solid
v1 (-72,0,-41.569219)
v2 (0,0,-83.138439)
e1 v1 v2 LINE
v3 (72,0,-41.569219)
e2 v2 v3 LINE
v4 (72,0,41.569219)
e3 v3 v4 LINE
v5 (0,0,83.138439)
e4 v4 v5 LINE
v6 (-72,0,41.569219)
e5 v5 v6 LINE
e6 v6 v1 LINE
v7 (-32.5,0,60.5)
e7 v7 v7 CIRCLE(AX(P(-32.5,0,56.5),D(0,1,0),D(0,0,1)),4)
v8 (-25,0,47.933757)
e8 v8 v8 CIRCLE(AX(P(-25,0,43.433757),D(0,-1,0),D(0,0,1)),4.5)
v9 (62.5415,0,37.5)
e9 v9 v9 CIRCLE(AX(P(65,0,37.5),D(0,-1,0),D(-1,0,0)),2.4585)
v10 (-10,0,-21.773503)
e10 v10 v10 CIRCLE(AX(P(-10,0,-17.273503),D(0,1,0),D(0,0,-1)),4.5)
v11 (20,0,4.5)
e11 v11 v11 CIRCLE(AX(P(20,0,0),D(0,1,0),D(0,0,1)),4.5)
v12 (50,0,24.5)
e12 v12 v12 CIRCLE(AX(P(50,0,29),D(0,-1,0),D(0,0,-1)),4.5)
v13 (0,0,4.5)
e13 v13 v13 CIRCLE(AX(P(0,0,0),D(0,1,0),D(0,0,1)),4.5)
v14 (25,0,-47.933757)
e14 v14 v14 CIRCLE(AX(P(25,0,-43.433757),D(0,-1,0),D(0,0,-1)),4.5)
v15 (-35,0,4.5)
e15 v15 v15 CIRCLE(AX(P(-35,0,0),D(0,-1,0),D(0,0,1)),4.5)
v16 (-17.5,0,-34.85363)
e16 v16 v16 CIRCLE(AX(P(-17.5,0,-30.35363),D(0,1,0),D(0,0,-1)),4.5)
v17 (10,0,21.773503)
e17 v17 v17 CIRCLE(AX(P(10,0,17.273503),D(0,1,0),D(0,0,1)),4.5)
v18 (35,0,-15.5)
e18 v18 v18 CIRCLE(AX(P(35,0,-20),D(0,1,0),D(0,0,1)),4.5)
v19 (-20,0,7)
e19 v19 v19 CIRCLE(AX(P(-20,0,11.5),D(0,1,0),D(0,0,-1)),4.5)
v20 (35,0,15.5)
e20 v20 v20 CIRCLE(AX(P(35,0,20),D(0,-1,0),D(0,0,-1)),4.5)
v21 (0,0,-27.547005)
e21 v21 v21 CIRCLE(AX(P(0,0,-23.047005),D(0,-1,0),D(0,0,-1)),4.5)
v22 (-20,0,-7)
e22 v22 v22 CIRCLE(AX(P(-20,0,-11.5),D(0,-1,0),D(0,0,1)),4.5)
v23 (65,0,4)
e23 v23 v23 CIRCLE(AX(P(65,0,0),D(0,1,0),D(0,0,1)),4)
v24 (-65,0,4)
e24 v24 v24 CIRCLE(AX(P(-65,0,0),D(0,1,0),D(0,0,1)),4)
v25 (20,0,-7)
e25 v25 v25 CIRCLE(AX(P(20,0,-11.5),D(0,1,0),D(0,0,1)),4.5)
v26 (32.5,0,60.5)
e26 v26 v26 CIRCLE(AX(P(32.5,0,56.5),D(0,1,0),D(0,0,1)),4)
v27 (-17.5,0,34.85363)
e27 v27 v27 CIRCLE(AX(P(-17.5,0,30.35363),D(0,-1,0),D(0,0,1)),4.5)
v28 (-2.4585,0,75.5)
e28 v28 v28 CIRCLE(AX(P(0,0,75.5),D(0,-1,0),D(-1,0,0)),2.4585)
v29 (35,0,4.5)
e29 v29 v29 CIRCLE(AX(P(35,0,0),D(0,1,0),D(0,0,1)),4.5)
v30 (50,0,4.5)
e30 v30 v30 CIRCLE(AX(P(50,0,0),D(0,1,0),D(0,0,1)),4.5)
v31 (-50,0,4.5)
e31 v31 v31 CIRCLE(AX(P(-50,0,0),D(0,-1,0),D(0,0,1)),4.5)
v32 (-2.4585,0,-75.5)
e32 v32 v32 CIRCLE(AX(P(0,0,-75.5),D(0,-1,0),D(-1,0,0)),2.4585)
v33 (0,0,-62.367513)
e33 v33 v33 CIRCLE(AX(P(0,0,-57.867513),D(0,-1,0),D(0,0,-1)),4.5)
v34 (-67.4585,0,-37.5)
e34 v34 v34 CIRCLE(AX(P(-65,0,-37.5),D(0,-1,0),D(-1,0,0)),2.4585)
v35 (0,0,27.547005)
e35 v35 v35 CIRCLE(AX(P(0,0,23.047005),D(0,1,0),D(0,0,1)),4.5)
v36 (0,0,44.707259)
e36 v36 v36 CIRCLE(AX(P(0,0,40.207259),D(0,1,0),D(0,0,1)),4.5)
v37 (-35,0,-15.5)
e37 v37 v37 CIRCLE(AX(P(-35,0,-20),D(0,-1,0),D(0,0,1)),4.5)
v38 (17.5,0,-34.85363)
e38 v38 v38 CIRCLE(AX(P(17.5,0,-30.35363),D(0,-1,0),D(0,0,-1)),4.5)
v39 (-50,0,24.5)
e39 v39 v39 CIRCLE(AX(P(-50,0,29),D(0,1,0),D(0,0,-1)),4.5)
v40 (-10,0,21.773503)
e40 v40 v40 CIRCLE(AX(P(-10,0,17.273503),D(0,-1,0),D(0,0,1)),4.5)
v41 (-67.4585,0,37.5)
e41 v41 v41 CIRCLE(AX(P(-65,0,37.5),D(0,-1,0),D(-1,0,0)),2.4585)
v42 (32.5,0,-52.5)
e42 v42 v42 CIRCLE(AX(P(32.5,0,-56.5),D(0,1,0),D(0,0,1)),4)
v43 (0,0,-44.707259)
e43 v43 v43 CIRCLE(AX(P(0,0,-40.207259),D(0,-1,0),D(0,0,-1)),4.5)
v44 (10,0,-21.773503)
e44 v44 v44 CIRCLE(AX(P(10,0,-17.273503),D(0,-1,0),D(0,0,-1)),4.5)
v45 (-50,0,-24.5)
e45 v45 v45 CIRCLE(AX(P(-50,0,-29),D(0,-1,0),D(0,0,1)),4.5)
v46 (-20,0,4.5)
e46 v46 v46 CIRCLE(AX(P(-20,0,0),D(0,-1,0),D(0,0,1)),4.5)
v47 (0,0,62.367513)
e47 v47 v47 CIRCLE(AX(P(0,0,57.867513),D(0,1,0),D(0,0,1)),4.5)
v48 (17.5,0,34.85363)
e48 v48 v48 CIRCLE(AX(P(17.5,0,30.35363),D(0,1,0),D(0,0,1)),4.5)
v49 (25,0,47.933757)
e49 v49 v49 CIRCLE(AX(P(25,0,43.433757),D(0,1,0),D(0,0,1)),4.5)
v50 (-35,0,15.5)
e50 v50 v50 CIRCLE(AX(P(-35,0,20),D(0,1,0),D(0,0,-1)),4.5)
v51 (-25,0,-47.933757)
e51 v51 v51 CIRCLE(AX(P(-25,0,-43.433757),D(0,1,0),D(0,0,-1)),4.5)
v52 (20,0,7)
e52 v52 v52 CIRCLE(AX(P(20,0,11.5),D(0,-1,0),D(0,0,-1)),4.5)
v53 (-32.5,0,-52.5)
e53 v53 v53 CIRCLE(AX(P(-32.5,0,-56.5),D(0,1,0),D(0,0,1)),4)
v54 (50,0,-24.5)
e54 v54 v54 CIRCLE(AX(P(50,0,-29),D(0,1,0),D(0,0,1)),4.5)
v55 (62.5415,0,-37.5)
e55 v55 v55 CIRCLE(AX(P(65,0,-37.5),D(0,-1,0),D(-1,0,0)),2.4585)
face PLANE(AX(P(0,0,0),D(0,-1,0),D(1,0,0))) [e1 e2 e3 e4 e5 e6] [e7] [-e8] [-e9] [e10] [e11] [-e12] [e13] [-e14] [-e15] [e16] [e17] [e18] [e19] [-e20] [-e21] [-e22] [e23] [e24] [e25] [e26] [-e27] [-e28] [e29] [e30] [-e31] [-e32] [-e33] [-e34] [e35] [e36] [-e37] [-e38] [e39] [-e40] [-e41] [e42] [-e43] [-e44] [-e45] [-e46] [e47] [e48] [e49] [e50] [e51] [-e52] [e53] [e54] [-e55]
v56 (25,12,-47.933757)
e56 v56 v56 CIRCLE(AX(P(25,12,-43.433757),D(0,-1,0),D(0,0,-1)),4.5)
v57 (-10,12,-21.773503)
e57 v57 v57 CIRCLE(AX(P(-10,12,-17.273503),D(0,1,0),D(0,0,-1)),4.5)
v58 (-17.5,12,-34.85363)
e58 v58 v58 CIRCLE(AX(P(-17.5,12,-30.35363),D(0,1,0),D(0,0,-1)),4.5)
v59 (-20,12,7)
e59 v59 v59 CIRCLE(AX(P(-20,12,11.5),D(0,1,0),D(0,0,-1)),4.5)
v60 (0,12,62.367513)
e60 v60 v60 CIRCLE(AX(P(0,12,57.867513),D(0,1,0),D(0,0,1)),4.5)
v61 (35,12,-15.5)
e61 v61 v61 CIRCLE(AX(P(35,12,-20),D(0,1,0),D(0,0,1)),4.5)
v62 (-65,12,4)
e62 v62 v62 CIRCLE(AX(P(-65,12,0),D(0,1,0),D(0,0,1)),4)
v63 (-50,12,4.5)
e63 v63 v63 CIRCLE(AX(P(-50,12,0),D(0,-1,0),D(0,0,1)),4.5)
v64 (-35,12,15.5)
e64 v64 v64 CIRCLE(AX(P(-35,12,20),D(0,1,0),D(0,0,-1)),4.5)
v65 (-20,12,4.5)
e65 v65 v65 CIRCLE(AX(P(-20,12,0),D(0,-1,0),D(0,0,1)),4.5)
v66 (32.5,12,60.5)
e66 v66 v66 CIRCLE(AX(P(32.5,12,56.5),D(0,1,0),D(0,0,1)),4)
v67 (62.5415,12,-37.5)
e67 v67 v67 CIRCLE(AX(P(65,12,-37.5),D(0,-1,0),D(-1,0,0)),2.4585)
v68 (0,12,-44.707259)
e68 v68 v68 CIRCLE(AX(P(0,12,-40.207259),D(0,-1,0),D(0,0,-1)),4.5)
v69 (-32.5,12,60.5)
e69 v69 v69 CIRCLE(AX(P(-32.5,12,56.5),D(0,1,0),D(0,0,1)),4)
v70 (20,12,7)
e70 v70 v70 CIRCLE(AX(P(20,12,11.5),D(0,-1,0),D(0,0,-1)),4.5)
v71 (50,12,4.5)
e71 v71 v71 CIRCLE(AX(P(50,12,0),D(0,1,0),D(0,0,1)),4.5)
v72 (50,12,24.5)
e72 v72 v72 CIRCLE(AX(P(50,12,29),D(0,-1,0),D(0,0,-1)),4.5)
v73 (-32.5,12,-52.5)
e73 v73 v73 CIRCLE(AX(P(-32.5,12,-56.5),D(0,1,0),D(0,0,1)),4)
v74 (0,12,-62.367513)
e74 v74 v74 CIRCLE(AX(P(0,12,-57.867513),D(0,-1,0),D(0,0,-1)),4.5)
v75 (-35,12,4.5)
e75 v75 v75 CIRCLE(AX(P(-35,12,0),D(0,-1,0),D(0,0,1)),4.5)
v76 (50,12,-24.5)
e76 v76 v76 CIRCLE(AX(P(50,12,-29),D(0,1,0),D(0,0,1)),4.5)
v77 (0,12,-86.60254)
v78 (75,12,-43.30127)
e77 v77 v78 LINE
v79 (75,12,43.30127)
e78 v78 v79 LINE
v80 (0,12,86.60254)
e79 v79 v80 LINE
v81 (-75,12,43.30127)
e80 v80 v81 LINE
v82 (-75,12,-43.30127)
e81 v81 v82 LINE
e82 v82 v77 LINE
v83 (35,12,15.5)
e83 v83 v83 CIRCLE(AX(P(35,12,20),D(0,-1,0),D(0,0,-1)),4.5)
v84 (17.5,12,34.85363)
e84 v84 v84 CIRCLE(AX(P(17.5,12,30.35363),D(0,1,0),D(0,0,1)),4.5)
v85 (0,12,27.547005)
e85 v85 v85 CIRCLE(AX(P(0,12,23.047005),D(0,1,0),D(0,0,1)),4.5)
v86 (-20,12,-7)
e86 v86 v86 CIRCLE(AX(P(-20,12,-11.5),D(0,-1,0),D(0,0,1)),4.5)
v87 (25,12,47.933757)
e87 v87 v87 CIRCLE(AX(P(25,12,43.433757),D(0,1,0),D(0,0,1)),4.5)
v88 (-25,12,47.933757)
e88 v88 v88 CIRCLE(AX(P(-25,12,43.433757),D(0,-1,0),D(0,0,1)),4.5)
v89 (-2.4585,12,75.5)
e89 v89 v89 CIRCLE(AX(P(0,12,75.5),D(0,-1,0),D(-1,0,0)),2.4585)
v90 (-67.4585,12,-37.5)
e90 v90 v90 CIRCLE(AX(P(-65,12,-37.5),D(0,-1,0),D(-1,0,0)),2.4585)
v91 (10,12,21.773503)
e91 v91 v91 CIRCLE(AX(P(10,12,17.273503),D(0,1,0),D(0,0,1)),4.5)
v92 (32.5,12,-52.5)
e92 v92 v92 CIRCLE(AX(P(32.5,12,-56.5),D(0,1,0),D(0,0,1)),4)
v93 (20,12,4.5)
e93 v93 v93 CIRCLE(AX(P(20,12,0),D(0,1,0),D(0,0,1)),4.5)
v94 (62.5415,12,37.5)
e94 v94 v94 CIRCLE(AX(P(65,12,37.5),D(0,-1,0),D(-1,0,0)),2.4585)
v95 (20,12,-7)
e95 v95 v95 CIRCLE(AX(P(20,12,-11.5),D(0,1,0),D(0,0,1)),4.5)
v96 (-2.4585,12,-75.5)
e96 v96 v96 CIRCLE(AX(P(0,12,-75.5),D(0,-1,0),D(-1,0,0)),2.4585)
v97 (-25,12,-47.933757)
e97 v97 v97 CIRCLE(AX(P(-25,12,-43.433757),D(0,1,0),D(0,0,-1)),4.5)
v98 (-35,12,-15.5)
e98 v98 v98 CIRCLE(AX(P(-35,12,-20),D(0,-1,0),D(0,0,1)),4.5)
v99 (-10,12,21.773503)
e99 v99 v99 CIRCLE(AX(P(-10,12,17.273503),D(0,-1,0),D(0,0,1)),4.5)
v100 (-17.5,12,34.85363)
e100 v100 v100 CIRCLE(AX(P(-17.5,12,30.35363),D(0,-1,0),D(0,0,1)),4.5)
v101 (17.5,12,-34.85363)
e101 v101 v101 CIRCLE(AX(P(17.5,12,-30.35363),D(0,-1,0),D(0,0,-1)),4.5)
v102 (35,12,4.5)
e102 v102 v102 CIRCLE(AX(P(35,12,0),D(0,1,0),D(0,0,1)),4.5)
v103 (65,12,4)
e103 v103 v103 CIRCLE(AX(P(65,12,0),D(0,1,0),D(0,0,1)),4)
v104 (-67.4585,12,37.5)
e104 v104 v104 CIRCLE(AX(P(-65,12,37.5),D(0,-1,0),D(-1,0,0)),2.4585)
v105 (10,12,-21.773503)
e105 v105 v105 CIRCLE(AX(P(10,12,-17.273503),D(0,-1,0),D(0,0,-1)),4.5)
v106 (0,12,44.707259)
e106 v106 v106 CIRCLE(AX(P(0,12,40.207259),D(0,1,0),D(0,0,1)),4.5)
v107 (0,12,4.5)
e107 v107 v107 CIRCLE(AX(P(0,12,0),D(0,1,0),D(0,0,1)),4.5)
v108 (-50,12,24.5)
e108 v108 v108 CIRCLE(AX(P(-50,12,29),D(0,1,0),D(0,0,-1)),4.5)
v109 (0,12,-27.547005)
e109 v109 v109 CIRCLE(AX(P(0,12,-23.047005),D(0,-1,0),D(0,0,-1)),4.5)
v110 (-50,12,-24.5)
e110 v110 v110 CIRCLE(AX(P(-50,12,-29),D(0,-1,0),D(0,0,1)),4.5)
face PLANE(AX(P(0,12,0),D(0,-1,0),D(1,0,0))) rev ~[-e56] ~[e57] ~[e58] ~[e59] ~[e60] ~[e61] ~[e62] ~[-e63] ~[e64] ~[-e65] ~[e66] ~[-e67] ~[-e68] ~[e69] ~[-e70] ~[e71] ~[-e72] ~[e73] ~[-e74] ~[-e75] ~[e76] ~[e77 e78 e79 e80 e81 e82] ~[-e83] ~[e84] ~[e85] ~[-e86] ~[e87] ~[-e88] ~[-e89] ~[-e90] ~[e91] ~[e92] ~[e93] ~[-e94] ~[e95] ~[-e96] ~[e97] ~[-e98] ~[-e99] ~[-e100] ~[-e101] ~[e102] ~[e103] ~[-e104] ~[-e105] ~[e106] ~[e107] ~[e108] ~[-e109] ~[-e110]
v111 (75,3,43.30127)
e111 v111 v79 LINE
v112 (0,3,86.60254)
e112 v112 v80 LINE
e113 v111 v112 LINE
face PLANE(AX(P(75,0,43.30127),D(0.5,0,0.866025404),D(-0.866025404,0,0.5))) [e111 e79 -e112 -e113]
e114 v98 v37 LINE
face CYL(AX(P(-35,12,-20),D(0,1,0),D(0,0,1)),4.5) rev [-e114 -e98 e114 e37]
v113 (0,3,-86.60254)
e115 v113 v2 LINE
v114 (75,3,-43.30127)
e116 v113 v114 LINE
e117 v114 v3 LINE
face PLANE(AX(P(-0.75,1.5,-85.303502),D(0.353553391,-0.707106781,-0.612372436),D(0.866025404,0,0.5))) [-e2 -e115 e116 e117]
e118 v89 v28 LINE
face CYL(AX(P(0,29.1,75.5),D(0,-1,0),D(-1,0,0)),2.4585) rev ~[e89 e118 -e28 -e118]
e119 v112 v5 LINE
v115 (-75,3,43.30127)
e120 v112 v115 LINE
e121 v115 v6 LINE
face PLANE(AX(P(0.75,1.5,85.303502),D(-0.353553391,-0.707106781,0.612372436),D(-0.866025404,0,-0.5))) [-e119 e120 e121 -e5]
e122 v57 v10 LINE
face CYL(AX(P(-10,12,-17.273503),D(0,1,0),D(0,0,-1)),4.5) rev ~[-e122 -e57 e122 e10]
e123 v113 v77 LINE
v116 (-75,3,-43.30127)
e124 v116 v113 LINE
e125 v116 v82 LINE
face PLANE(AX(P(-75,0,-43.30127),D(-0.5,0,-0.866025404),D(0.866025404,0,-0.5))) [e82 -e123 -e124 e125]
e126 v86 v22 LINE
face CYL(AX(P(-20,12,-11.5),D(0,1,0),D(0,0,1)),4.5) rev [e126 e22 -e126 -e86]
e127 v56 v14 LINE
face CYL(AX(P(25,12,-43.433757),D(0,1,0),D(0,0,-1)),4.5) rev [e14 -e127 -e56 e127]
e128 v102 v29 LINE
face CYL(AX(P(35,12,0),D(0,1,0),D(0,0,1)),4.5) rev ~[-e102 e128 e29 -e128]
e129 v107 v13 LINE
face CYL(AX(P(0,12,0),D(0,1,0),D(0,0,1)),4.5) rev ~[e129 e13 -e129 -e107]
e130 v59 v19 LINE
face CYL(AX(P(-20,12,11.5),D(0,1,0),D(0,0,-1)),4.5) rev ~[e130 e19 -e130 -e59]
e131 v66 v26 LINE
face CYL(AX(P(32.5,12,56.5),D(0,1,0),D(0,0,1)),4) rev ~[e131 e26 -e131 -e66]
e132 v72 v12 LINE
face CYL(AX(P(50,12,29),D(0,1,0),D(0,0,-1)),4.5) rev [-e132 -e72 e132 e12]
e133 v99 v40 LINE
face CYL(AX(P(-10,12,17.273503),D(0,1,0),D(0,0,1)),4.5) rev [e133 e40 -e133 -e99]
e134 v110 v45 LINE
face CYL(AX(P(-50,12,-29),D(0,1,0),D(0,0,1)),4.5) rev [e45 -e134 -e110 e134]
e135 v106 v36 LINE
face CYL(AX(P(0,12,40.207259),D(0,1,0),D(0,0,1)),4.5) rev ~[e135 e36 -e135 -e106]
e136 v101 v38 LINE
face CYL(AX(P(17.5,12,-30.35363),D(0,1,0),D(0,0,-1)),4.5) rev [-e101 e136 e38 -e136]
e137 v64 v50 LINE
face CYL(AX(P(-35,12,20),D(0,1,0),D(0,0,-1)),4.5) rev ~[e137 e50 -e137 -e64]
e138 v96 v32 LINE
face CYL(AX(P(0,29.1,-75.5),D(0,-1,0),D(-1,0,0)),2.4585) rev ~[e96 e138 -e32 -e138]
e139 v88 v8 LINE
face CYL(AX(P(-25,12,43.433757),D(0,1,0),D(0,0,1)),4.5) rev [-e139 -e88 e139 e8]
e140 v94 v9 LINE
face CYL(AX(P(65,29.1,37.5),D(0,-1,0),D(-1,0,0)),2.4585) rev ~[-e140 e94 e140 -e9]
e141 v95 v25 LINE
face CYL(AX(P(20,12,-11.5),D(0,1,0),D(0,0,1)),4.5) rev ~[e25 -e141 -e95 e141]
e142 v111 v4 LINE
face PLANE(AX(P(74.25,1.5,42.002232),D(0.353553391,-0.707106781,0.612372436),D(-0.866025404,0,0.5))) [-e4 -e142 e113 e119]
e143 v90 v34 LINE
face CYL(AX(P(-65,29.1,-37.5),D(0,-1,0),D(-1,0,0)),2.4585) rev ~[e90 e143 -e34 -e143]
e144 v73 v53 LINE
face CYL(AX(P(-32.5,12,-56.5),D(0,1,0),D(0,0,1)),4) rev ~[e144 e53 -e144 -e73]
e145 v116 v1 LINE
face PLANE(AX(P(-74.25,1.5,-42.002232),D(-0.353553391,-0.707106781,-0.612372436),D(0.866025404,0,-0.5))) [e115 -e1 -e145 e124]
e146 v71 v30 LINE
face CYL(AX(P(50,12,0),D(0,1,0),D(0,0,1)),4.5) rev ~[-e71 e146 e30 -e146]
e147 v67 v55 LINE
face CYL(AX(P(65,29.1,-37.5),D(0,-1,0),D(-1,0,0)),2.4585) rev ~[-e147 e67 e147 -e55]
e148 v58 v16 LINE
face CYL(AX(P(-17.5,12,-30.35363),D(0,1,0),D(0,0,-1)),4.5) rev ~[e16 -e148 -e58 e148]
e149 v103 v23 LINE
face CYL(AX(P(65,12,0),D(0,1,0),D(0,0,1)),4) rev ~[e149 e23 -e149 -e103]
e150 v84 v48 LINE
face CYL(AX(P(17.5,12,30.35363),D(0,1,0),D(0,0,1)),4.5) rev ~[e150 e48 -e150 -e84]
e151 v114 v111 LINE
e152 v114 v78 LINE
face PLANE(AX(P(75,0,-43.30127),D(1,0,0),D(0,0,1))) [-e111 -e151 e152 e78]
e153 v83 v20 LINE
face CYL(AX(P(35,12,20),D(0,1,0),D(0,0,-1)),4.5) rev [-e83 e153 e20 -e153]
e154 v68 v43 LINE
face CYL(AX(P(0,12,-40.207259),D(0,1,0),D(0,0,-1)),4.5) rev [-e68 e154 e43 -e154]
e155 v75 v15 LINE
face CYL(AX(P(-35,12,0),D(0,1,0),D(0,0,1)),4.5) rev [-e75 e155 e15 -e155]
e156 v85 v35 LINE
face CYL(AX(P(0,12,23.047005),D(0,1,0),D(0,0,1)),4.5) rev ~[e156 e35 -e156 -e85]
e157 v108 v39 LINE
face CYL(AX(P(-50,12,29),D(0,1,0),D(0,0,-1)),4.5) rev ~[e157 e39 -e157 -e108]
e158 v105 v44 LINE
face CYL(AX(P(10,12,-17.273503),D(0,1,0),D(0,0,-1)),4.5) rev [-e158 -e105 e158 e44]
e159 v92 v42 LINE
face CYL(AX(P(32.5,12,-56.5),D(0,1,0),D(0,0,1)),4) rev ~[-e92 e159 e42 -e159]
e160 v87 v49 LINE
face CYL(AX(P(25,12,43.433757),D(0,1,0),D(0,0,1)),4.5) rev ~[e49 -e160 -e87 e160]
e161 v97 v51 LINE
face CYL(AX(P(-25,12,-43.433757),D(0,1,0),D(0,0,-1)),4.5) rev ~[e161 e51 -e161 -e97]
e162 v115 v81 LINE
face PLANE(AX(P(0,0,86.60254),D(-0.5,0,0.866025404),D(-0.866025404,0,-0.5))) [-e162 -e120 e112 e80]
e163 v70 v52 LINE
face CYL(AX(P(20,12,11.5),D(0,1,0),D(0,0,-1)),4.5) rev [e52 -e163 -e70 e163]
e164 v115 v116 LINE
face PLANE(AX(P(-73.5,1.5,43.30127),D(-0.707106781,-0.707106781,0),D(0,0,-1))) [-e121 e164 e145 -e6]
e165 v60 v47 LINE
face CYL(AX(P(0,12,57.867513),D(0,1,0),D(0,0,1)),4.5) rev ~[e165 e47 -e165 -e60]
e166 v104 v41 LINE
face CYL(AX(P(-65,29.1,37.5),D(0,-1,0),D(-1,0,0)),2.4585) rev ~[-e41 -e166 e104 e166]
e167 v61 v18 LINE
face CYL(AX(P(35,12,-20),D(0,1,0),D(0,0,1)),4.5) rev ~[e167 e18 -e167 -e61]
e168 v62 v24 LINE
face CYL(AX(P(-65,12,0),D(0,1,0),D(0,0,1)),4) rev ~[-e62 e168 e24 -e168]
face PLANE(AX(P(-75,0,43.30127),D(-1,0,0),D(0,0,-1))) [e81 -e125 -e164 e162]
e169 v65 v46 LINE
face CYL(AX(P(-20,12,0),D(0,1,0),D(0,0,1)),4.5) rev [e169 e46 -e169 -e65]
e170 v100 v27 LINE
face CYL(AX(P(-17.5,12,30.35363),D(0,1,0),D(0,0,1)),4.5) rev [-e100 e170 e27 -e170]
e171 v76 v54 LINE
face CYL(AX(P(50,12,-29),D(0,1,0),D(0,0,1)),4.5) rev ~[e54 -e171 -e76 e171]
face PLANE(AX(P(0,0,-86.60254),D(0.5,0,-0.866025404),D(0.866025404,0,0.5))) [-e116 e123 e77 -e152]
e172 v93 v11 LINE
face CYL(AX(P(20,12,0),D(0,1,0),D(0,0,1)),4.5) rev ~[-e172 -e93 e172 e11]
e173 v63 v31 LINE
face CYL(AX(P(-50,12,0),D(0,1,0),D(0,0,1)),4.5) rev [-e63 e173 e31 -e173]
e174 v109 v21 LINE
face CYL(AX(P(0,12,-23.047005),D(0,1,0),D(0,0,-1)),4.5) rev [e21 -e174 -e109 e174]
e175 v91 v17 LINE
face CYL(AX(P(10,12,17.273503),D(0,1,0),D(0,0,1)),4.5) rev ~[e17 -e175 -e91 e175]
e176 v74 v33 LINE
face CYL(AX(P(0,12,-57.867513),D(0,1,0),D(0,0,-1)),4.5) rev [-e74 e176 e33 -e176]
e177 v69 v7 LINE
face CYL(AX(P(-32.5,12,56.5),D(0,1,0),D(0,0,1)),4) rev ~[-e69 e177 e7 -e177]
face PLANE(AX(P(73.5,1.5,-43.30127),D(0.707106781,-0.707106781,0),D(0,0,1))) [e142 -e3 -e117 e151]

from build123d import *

# Parameters (mm, degrees)
EXTRUDE_1_DEPTH          = 12
CHAMFER_1_SIZE           = 3
SKETCH_2_R               = 4
EXTRUDE_2_DEPTH          = 12
HOLE_WIZARD_1_D          = 4.917
HOLE_WIZARD_1_DEPTH      = 17.1
HOLE_WIZARD_1_TIP        = 1.477215832
SKETCH_5_R               = 4.5
EXTRUDE_4_DEPTH          = 12
SKETCH_6_R               = 4.5
EXTRUDE_3_DEPTH          = 12
SKETCH_7_R               = 4.5
EXTRUDE_5_DEPTH          = 12
MIRROR_2_COPY_1_SKETCH_R = 4.5
MIRROR_2_COPY_1_DEPTH    = 12
SKETCH_8_R               = 4.5
EXTRUDE_8_DEPTH          = 12
SKETCH_9_R               = 4.5
EXTRUDE_9_DEPTH          = 12
MIRROR_8_COPY_1_SKETCH_R = 4.5
MIRROR_8_COPY_1_DEPTH    = 12


with BuildPart() as part:
    # 草圖1 → 擠出1 (new body)
    with BuildSketch(Plane(origin=(0, 0, 0), x_dir=(-1, 0, 0), z_dir=(0, 1, 0))):
        Polygon((0, -86.602540378), (-75, -43.301270189), (-75, 43.301270189), (0, 86.602540378), (75, 43.301270189), (75, -43.301270189), align=None)
    extrude(amount=EXTRUDE_1_DEPTH)

    # 倒角1
    chamfer_1_edges = [part.edges().sort_by_distance(p)[0] for p in [
        (37.5, 0, -64.951905284),
        (75, 0, 0),
        (37.5, 0, 64.951905284),
        (-37.5, 0, 64.951905284),
        (-75, 0, 0),
        (-37.5, 0, -64.951905284),
    ]]
    chamfer(chamfer_1_edges, length=CHAMFER_1_SIZE)

    # 草圖2 → 擠出2 (cut)
    with BuildSketch(Plane(origin=(0, 12, 0), x_dir=(-1, 0, 0), z_dir=(0, 1, 0))):
        with Locations(Location((-32.5, 56.5, 0), (0, 0, 90))):
            Circle(SKETCH_2_R)
        with Locations(Location((32.5, 56.5, 0), (0, 0, 90))):
            Circle(SKETCH_2_R)
        with Locations(Location((-65, 0, 0), (0, 0, 90))):
            Circle(SKETCH_2_R)
        with Locations(Location((-32.5, -56.5, 0), (0, 0, 90))):
            Circle(SKETCH_2_R)
        with Locations(Location((32.5, -56.5, 0), (0, 0, 90))):
            Circle(SKETCH_2_R)
        with Locations(Location((65, 0, 0), (0, 0, 90))):
            Circle(SKETCH_2_R)
    extrude(amount=-EXTRUDE_2_DEPTH, mode=Mode.SUBTRACT)

    # 孔1
    with Locations(Plane(origin=(0, 12, 0), x_dir=(1, 0, 0), z_dir=(0, 1, 0))):
        with Locations((0, 75.5), (-65, 37.5), (65, 37.5), (-65, -37.5), (65, -37.5), (0, -75.5)):
            Hole(HOLE_WIZARD_1_D / 2, depth=HOLE_WIZARD_1_DEPTH)
            with Locations((0, 0, -(HOLE_WIZARD_1_DEPTH + HOLE_WIZARD_1_TIP / 2))):  # 118° drill point
                Cone(0, HOLE_WIZARD_1_D / 2, HOLE_WIZARD_1_TIP, mode=Mode.SUBTRACT)

    # 草圖5 → 擠出4 (cut)
    with BuildSketch(Plane(origin=(0, 12, 0), x_dir=(-1, 0, 0), z_dir=(0, 1, 0))):
        with Locations(Location((0, 0, 0), (0, 0, 90))):
            Circle(SKETCH_5_R)
    extrude(amount=-EXTRUDE_4_DEPTH, mode=Mode.SUBTRACT)

    # 草圖6 → 擠出3 (cut)
    with BuildSketch(Plane(origin=(0, 12, 0), x_dir=(1, 0, 0), z_dir=(0, 1, 0))):
        with Locations(Location((20, 0, 0), (0, 0, 270))):
            Circle(SKETCH_6_R)
        with Locations(Location((35, 0, 0), (0, 0, 270))):
            Circle(SKETCH_6_R)
        with Locations(Location((50, 0, 0), (0, 0, 270))):
            Circle(SKETCH_6_R)
    extrude_3 = extrude(amount=-EXTRUDE_3_DEPTH, mode=Mode.SUBTRACT)

    # 鏡射5: 擠出3 across plane
    add(extrude_3.mirror(Plane(origin=(0, 0, 0), x_dir=(0, 0, 1), z_dir=(1, 0, 0))), mode=Mode.SUBTRACT)

    # 草圖7 → 擠出5 (cut)
    with BuildSketch(Plane(origin=(0, 12, 0), x_dir=(1, 0, 0), z_dir=(0, 1, 0))):
        with Locations(Location((20, 11.5, 0), (0, 0, 270))):
            Circle(SKETCH_7_R)
        with Locations(Location((35, 20, 0), (0, 0, 270))):
            Circle(SKETCH_7_R)
        with Locations(Location((50, 29, 0), (0, 0, 270))):
            Circle(SKETCH_7_R)
    extrude_5 = extrude(amount=-EXTRUDE_5_DEPTH, mode=Mode.SUBTRACT)

    # 鏡射1: 擠出5 across plane
    add(extrude_5.mirror(Plane.XY), mode=Mode.SUBTRACT)

    # 鏡射2: 擠出5 across plane
    add(extrude_5.mirror(Plane(origin=(0, 0, 0), x_dir=(0, 0, 1), z_dir=(1, 0, 0))), mode=Mode.SUBTRACT)

    # 鏡射2 copy 1 sketch → 鏡射2 copy 1 (cut)
    with BuildSketch(Plane(origin=(0, 12, 0), x_dir=(-1, 0, 0), z_dir=(0, 1, 0))):
        with Locations(Location((20, 11.5, 0), (0, 0, 270))):
            Circle(MIRROR_2_COPY_1_SKETCH_R)
        with Locations(Location((35, 20, 0), (0, 0, 270))):
            Circle(MIRROR_2_COPY_1_SKETCH_R)
        with Locations(Location((50, 29, 0), (0, 0, 270))):
            Circle(MIRROR_2_COPY_1_SKETCH_R)
    extrude(amount=-MIRROR_2_COPY_1_DEPTH, mode=Mode.SUBTRACT)

    # 草圖8 → 擠出8 (cut)
    with BuildSketch(Plane(origin=(0, 12, 0), x_dir=(1, 0, 0), z_dir=(0, 1, 0))):
        with Locations(Location((0, -23.047005384, 0), (0, 0, 270))):
            Circle(SKETCH_8_R)
        with Locations(Location((0, -40.207259422, 0), (0, 0, 270))):
            Circle(SKETCH_8_R)
        with Locations(Location((0, -57.867513459, 0), (0, 0, 270))):
            Circle(SKETCH_8_R)
    extrude_8 = extrude(amount=-EXTRUDE_8_DEPTH, mode=Mode.SUBTRACT)

    # 鏡射6: 擠出8 across plane
    add(extrude_8.mirror(Plane.XY), mode=Mode.SUBTRACT)

    # 草圖9 → 擠出9 (cut)
    with BuildSketch(Plane(origin=(0, 12, 0), x_dir=(1, 0, 0), z_dir=(0, 1, 0))):
        with Locations(Location((10, -17.273502692, 0), (0, 0, 270))):
            Circle(SKETCH_9_R)
        with Locations(Location((17.5, -30.353629711, 0), (0, 0, 270))):
            Circle(SKETCH_9_R)
        with Locations(Location((25, -43.43375673, 0), (0, 0, 270))):
            Circle(SKETCH_9_R)
    extrude_9 = extrude(amount=-EXTRUDE_9_DEPTH, mode=Mode.SUBTRACT)

    # 鏡射7: 擠出9 across plane
    add(extrude_9.mirror(Plane(origin=(0, 0, 0), x_dir=(0, 0, 1), z_dir=(1, 0, 0))), mode=Mode.SUBTRACT)

    # 鏡射8: 擠出9 across plane
    add(extrude_9.mirror(Plane.XY), mode=Mode.SUBTRACT)

    # 鏡射8 copy 1 sketch → 鏡射8 copy 1 (cut)
    with BuildSketch(Plane(origin=(0, 12, 0), x_dir=(-1, 0, 0), z_dir=(0, 1, 0))):
        with Locations(Location((10, -17.273502692, 0), (0, 0, 270))):
            Circle(MIRROR_8_COPY_1_SKETCH_R)
        with Locations(Location((17.5, -30.353629711, 0), (0, 0, 270))):
            Circle(MIRROR_8_COPY_1_SKETCH_R)
        with Locations(Location((25, -43.43375673, 0), (0, 0, 270))):
            Circle(MIRROR_8_COPY_1_SKETCH_R)
    extrude(amount=-MIRROR_8_COPY_1_DEPTH, mode=Mode.SUBTRACT)


solid = part.part
